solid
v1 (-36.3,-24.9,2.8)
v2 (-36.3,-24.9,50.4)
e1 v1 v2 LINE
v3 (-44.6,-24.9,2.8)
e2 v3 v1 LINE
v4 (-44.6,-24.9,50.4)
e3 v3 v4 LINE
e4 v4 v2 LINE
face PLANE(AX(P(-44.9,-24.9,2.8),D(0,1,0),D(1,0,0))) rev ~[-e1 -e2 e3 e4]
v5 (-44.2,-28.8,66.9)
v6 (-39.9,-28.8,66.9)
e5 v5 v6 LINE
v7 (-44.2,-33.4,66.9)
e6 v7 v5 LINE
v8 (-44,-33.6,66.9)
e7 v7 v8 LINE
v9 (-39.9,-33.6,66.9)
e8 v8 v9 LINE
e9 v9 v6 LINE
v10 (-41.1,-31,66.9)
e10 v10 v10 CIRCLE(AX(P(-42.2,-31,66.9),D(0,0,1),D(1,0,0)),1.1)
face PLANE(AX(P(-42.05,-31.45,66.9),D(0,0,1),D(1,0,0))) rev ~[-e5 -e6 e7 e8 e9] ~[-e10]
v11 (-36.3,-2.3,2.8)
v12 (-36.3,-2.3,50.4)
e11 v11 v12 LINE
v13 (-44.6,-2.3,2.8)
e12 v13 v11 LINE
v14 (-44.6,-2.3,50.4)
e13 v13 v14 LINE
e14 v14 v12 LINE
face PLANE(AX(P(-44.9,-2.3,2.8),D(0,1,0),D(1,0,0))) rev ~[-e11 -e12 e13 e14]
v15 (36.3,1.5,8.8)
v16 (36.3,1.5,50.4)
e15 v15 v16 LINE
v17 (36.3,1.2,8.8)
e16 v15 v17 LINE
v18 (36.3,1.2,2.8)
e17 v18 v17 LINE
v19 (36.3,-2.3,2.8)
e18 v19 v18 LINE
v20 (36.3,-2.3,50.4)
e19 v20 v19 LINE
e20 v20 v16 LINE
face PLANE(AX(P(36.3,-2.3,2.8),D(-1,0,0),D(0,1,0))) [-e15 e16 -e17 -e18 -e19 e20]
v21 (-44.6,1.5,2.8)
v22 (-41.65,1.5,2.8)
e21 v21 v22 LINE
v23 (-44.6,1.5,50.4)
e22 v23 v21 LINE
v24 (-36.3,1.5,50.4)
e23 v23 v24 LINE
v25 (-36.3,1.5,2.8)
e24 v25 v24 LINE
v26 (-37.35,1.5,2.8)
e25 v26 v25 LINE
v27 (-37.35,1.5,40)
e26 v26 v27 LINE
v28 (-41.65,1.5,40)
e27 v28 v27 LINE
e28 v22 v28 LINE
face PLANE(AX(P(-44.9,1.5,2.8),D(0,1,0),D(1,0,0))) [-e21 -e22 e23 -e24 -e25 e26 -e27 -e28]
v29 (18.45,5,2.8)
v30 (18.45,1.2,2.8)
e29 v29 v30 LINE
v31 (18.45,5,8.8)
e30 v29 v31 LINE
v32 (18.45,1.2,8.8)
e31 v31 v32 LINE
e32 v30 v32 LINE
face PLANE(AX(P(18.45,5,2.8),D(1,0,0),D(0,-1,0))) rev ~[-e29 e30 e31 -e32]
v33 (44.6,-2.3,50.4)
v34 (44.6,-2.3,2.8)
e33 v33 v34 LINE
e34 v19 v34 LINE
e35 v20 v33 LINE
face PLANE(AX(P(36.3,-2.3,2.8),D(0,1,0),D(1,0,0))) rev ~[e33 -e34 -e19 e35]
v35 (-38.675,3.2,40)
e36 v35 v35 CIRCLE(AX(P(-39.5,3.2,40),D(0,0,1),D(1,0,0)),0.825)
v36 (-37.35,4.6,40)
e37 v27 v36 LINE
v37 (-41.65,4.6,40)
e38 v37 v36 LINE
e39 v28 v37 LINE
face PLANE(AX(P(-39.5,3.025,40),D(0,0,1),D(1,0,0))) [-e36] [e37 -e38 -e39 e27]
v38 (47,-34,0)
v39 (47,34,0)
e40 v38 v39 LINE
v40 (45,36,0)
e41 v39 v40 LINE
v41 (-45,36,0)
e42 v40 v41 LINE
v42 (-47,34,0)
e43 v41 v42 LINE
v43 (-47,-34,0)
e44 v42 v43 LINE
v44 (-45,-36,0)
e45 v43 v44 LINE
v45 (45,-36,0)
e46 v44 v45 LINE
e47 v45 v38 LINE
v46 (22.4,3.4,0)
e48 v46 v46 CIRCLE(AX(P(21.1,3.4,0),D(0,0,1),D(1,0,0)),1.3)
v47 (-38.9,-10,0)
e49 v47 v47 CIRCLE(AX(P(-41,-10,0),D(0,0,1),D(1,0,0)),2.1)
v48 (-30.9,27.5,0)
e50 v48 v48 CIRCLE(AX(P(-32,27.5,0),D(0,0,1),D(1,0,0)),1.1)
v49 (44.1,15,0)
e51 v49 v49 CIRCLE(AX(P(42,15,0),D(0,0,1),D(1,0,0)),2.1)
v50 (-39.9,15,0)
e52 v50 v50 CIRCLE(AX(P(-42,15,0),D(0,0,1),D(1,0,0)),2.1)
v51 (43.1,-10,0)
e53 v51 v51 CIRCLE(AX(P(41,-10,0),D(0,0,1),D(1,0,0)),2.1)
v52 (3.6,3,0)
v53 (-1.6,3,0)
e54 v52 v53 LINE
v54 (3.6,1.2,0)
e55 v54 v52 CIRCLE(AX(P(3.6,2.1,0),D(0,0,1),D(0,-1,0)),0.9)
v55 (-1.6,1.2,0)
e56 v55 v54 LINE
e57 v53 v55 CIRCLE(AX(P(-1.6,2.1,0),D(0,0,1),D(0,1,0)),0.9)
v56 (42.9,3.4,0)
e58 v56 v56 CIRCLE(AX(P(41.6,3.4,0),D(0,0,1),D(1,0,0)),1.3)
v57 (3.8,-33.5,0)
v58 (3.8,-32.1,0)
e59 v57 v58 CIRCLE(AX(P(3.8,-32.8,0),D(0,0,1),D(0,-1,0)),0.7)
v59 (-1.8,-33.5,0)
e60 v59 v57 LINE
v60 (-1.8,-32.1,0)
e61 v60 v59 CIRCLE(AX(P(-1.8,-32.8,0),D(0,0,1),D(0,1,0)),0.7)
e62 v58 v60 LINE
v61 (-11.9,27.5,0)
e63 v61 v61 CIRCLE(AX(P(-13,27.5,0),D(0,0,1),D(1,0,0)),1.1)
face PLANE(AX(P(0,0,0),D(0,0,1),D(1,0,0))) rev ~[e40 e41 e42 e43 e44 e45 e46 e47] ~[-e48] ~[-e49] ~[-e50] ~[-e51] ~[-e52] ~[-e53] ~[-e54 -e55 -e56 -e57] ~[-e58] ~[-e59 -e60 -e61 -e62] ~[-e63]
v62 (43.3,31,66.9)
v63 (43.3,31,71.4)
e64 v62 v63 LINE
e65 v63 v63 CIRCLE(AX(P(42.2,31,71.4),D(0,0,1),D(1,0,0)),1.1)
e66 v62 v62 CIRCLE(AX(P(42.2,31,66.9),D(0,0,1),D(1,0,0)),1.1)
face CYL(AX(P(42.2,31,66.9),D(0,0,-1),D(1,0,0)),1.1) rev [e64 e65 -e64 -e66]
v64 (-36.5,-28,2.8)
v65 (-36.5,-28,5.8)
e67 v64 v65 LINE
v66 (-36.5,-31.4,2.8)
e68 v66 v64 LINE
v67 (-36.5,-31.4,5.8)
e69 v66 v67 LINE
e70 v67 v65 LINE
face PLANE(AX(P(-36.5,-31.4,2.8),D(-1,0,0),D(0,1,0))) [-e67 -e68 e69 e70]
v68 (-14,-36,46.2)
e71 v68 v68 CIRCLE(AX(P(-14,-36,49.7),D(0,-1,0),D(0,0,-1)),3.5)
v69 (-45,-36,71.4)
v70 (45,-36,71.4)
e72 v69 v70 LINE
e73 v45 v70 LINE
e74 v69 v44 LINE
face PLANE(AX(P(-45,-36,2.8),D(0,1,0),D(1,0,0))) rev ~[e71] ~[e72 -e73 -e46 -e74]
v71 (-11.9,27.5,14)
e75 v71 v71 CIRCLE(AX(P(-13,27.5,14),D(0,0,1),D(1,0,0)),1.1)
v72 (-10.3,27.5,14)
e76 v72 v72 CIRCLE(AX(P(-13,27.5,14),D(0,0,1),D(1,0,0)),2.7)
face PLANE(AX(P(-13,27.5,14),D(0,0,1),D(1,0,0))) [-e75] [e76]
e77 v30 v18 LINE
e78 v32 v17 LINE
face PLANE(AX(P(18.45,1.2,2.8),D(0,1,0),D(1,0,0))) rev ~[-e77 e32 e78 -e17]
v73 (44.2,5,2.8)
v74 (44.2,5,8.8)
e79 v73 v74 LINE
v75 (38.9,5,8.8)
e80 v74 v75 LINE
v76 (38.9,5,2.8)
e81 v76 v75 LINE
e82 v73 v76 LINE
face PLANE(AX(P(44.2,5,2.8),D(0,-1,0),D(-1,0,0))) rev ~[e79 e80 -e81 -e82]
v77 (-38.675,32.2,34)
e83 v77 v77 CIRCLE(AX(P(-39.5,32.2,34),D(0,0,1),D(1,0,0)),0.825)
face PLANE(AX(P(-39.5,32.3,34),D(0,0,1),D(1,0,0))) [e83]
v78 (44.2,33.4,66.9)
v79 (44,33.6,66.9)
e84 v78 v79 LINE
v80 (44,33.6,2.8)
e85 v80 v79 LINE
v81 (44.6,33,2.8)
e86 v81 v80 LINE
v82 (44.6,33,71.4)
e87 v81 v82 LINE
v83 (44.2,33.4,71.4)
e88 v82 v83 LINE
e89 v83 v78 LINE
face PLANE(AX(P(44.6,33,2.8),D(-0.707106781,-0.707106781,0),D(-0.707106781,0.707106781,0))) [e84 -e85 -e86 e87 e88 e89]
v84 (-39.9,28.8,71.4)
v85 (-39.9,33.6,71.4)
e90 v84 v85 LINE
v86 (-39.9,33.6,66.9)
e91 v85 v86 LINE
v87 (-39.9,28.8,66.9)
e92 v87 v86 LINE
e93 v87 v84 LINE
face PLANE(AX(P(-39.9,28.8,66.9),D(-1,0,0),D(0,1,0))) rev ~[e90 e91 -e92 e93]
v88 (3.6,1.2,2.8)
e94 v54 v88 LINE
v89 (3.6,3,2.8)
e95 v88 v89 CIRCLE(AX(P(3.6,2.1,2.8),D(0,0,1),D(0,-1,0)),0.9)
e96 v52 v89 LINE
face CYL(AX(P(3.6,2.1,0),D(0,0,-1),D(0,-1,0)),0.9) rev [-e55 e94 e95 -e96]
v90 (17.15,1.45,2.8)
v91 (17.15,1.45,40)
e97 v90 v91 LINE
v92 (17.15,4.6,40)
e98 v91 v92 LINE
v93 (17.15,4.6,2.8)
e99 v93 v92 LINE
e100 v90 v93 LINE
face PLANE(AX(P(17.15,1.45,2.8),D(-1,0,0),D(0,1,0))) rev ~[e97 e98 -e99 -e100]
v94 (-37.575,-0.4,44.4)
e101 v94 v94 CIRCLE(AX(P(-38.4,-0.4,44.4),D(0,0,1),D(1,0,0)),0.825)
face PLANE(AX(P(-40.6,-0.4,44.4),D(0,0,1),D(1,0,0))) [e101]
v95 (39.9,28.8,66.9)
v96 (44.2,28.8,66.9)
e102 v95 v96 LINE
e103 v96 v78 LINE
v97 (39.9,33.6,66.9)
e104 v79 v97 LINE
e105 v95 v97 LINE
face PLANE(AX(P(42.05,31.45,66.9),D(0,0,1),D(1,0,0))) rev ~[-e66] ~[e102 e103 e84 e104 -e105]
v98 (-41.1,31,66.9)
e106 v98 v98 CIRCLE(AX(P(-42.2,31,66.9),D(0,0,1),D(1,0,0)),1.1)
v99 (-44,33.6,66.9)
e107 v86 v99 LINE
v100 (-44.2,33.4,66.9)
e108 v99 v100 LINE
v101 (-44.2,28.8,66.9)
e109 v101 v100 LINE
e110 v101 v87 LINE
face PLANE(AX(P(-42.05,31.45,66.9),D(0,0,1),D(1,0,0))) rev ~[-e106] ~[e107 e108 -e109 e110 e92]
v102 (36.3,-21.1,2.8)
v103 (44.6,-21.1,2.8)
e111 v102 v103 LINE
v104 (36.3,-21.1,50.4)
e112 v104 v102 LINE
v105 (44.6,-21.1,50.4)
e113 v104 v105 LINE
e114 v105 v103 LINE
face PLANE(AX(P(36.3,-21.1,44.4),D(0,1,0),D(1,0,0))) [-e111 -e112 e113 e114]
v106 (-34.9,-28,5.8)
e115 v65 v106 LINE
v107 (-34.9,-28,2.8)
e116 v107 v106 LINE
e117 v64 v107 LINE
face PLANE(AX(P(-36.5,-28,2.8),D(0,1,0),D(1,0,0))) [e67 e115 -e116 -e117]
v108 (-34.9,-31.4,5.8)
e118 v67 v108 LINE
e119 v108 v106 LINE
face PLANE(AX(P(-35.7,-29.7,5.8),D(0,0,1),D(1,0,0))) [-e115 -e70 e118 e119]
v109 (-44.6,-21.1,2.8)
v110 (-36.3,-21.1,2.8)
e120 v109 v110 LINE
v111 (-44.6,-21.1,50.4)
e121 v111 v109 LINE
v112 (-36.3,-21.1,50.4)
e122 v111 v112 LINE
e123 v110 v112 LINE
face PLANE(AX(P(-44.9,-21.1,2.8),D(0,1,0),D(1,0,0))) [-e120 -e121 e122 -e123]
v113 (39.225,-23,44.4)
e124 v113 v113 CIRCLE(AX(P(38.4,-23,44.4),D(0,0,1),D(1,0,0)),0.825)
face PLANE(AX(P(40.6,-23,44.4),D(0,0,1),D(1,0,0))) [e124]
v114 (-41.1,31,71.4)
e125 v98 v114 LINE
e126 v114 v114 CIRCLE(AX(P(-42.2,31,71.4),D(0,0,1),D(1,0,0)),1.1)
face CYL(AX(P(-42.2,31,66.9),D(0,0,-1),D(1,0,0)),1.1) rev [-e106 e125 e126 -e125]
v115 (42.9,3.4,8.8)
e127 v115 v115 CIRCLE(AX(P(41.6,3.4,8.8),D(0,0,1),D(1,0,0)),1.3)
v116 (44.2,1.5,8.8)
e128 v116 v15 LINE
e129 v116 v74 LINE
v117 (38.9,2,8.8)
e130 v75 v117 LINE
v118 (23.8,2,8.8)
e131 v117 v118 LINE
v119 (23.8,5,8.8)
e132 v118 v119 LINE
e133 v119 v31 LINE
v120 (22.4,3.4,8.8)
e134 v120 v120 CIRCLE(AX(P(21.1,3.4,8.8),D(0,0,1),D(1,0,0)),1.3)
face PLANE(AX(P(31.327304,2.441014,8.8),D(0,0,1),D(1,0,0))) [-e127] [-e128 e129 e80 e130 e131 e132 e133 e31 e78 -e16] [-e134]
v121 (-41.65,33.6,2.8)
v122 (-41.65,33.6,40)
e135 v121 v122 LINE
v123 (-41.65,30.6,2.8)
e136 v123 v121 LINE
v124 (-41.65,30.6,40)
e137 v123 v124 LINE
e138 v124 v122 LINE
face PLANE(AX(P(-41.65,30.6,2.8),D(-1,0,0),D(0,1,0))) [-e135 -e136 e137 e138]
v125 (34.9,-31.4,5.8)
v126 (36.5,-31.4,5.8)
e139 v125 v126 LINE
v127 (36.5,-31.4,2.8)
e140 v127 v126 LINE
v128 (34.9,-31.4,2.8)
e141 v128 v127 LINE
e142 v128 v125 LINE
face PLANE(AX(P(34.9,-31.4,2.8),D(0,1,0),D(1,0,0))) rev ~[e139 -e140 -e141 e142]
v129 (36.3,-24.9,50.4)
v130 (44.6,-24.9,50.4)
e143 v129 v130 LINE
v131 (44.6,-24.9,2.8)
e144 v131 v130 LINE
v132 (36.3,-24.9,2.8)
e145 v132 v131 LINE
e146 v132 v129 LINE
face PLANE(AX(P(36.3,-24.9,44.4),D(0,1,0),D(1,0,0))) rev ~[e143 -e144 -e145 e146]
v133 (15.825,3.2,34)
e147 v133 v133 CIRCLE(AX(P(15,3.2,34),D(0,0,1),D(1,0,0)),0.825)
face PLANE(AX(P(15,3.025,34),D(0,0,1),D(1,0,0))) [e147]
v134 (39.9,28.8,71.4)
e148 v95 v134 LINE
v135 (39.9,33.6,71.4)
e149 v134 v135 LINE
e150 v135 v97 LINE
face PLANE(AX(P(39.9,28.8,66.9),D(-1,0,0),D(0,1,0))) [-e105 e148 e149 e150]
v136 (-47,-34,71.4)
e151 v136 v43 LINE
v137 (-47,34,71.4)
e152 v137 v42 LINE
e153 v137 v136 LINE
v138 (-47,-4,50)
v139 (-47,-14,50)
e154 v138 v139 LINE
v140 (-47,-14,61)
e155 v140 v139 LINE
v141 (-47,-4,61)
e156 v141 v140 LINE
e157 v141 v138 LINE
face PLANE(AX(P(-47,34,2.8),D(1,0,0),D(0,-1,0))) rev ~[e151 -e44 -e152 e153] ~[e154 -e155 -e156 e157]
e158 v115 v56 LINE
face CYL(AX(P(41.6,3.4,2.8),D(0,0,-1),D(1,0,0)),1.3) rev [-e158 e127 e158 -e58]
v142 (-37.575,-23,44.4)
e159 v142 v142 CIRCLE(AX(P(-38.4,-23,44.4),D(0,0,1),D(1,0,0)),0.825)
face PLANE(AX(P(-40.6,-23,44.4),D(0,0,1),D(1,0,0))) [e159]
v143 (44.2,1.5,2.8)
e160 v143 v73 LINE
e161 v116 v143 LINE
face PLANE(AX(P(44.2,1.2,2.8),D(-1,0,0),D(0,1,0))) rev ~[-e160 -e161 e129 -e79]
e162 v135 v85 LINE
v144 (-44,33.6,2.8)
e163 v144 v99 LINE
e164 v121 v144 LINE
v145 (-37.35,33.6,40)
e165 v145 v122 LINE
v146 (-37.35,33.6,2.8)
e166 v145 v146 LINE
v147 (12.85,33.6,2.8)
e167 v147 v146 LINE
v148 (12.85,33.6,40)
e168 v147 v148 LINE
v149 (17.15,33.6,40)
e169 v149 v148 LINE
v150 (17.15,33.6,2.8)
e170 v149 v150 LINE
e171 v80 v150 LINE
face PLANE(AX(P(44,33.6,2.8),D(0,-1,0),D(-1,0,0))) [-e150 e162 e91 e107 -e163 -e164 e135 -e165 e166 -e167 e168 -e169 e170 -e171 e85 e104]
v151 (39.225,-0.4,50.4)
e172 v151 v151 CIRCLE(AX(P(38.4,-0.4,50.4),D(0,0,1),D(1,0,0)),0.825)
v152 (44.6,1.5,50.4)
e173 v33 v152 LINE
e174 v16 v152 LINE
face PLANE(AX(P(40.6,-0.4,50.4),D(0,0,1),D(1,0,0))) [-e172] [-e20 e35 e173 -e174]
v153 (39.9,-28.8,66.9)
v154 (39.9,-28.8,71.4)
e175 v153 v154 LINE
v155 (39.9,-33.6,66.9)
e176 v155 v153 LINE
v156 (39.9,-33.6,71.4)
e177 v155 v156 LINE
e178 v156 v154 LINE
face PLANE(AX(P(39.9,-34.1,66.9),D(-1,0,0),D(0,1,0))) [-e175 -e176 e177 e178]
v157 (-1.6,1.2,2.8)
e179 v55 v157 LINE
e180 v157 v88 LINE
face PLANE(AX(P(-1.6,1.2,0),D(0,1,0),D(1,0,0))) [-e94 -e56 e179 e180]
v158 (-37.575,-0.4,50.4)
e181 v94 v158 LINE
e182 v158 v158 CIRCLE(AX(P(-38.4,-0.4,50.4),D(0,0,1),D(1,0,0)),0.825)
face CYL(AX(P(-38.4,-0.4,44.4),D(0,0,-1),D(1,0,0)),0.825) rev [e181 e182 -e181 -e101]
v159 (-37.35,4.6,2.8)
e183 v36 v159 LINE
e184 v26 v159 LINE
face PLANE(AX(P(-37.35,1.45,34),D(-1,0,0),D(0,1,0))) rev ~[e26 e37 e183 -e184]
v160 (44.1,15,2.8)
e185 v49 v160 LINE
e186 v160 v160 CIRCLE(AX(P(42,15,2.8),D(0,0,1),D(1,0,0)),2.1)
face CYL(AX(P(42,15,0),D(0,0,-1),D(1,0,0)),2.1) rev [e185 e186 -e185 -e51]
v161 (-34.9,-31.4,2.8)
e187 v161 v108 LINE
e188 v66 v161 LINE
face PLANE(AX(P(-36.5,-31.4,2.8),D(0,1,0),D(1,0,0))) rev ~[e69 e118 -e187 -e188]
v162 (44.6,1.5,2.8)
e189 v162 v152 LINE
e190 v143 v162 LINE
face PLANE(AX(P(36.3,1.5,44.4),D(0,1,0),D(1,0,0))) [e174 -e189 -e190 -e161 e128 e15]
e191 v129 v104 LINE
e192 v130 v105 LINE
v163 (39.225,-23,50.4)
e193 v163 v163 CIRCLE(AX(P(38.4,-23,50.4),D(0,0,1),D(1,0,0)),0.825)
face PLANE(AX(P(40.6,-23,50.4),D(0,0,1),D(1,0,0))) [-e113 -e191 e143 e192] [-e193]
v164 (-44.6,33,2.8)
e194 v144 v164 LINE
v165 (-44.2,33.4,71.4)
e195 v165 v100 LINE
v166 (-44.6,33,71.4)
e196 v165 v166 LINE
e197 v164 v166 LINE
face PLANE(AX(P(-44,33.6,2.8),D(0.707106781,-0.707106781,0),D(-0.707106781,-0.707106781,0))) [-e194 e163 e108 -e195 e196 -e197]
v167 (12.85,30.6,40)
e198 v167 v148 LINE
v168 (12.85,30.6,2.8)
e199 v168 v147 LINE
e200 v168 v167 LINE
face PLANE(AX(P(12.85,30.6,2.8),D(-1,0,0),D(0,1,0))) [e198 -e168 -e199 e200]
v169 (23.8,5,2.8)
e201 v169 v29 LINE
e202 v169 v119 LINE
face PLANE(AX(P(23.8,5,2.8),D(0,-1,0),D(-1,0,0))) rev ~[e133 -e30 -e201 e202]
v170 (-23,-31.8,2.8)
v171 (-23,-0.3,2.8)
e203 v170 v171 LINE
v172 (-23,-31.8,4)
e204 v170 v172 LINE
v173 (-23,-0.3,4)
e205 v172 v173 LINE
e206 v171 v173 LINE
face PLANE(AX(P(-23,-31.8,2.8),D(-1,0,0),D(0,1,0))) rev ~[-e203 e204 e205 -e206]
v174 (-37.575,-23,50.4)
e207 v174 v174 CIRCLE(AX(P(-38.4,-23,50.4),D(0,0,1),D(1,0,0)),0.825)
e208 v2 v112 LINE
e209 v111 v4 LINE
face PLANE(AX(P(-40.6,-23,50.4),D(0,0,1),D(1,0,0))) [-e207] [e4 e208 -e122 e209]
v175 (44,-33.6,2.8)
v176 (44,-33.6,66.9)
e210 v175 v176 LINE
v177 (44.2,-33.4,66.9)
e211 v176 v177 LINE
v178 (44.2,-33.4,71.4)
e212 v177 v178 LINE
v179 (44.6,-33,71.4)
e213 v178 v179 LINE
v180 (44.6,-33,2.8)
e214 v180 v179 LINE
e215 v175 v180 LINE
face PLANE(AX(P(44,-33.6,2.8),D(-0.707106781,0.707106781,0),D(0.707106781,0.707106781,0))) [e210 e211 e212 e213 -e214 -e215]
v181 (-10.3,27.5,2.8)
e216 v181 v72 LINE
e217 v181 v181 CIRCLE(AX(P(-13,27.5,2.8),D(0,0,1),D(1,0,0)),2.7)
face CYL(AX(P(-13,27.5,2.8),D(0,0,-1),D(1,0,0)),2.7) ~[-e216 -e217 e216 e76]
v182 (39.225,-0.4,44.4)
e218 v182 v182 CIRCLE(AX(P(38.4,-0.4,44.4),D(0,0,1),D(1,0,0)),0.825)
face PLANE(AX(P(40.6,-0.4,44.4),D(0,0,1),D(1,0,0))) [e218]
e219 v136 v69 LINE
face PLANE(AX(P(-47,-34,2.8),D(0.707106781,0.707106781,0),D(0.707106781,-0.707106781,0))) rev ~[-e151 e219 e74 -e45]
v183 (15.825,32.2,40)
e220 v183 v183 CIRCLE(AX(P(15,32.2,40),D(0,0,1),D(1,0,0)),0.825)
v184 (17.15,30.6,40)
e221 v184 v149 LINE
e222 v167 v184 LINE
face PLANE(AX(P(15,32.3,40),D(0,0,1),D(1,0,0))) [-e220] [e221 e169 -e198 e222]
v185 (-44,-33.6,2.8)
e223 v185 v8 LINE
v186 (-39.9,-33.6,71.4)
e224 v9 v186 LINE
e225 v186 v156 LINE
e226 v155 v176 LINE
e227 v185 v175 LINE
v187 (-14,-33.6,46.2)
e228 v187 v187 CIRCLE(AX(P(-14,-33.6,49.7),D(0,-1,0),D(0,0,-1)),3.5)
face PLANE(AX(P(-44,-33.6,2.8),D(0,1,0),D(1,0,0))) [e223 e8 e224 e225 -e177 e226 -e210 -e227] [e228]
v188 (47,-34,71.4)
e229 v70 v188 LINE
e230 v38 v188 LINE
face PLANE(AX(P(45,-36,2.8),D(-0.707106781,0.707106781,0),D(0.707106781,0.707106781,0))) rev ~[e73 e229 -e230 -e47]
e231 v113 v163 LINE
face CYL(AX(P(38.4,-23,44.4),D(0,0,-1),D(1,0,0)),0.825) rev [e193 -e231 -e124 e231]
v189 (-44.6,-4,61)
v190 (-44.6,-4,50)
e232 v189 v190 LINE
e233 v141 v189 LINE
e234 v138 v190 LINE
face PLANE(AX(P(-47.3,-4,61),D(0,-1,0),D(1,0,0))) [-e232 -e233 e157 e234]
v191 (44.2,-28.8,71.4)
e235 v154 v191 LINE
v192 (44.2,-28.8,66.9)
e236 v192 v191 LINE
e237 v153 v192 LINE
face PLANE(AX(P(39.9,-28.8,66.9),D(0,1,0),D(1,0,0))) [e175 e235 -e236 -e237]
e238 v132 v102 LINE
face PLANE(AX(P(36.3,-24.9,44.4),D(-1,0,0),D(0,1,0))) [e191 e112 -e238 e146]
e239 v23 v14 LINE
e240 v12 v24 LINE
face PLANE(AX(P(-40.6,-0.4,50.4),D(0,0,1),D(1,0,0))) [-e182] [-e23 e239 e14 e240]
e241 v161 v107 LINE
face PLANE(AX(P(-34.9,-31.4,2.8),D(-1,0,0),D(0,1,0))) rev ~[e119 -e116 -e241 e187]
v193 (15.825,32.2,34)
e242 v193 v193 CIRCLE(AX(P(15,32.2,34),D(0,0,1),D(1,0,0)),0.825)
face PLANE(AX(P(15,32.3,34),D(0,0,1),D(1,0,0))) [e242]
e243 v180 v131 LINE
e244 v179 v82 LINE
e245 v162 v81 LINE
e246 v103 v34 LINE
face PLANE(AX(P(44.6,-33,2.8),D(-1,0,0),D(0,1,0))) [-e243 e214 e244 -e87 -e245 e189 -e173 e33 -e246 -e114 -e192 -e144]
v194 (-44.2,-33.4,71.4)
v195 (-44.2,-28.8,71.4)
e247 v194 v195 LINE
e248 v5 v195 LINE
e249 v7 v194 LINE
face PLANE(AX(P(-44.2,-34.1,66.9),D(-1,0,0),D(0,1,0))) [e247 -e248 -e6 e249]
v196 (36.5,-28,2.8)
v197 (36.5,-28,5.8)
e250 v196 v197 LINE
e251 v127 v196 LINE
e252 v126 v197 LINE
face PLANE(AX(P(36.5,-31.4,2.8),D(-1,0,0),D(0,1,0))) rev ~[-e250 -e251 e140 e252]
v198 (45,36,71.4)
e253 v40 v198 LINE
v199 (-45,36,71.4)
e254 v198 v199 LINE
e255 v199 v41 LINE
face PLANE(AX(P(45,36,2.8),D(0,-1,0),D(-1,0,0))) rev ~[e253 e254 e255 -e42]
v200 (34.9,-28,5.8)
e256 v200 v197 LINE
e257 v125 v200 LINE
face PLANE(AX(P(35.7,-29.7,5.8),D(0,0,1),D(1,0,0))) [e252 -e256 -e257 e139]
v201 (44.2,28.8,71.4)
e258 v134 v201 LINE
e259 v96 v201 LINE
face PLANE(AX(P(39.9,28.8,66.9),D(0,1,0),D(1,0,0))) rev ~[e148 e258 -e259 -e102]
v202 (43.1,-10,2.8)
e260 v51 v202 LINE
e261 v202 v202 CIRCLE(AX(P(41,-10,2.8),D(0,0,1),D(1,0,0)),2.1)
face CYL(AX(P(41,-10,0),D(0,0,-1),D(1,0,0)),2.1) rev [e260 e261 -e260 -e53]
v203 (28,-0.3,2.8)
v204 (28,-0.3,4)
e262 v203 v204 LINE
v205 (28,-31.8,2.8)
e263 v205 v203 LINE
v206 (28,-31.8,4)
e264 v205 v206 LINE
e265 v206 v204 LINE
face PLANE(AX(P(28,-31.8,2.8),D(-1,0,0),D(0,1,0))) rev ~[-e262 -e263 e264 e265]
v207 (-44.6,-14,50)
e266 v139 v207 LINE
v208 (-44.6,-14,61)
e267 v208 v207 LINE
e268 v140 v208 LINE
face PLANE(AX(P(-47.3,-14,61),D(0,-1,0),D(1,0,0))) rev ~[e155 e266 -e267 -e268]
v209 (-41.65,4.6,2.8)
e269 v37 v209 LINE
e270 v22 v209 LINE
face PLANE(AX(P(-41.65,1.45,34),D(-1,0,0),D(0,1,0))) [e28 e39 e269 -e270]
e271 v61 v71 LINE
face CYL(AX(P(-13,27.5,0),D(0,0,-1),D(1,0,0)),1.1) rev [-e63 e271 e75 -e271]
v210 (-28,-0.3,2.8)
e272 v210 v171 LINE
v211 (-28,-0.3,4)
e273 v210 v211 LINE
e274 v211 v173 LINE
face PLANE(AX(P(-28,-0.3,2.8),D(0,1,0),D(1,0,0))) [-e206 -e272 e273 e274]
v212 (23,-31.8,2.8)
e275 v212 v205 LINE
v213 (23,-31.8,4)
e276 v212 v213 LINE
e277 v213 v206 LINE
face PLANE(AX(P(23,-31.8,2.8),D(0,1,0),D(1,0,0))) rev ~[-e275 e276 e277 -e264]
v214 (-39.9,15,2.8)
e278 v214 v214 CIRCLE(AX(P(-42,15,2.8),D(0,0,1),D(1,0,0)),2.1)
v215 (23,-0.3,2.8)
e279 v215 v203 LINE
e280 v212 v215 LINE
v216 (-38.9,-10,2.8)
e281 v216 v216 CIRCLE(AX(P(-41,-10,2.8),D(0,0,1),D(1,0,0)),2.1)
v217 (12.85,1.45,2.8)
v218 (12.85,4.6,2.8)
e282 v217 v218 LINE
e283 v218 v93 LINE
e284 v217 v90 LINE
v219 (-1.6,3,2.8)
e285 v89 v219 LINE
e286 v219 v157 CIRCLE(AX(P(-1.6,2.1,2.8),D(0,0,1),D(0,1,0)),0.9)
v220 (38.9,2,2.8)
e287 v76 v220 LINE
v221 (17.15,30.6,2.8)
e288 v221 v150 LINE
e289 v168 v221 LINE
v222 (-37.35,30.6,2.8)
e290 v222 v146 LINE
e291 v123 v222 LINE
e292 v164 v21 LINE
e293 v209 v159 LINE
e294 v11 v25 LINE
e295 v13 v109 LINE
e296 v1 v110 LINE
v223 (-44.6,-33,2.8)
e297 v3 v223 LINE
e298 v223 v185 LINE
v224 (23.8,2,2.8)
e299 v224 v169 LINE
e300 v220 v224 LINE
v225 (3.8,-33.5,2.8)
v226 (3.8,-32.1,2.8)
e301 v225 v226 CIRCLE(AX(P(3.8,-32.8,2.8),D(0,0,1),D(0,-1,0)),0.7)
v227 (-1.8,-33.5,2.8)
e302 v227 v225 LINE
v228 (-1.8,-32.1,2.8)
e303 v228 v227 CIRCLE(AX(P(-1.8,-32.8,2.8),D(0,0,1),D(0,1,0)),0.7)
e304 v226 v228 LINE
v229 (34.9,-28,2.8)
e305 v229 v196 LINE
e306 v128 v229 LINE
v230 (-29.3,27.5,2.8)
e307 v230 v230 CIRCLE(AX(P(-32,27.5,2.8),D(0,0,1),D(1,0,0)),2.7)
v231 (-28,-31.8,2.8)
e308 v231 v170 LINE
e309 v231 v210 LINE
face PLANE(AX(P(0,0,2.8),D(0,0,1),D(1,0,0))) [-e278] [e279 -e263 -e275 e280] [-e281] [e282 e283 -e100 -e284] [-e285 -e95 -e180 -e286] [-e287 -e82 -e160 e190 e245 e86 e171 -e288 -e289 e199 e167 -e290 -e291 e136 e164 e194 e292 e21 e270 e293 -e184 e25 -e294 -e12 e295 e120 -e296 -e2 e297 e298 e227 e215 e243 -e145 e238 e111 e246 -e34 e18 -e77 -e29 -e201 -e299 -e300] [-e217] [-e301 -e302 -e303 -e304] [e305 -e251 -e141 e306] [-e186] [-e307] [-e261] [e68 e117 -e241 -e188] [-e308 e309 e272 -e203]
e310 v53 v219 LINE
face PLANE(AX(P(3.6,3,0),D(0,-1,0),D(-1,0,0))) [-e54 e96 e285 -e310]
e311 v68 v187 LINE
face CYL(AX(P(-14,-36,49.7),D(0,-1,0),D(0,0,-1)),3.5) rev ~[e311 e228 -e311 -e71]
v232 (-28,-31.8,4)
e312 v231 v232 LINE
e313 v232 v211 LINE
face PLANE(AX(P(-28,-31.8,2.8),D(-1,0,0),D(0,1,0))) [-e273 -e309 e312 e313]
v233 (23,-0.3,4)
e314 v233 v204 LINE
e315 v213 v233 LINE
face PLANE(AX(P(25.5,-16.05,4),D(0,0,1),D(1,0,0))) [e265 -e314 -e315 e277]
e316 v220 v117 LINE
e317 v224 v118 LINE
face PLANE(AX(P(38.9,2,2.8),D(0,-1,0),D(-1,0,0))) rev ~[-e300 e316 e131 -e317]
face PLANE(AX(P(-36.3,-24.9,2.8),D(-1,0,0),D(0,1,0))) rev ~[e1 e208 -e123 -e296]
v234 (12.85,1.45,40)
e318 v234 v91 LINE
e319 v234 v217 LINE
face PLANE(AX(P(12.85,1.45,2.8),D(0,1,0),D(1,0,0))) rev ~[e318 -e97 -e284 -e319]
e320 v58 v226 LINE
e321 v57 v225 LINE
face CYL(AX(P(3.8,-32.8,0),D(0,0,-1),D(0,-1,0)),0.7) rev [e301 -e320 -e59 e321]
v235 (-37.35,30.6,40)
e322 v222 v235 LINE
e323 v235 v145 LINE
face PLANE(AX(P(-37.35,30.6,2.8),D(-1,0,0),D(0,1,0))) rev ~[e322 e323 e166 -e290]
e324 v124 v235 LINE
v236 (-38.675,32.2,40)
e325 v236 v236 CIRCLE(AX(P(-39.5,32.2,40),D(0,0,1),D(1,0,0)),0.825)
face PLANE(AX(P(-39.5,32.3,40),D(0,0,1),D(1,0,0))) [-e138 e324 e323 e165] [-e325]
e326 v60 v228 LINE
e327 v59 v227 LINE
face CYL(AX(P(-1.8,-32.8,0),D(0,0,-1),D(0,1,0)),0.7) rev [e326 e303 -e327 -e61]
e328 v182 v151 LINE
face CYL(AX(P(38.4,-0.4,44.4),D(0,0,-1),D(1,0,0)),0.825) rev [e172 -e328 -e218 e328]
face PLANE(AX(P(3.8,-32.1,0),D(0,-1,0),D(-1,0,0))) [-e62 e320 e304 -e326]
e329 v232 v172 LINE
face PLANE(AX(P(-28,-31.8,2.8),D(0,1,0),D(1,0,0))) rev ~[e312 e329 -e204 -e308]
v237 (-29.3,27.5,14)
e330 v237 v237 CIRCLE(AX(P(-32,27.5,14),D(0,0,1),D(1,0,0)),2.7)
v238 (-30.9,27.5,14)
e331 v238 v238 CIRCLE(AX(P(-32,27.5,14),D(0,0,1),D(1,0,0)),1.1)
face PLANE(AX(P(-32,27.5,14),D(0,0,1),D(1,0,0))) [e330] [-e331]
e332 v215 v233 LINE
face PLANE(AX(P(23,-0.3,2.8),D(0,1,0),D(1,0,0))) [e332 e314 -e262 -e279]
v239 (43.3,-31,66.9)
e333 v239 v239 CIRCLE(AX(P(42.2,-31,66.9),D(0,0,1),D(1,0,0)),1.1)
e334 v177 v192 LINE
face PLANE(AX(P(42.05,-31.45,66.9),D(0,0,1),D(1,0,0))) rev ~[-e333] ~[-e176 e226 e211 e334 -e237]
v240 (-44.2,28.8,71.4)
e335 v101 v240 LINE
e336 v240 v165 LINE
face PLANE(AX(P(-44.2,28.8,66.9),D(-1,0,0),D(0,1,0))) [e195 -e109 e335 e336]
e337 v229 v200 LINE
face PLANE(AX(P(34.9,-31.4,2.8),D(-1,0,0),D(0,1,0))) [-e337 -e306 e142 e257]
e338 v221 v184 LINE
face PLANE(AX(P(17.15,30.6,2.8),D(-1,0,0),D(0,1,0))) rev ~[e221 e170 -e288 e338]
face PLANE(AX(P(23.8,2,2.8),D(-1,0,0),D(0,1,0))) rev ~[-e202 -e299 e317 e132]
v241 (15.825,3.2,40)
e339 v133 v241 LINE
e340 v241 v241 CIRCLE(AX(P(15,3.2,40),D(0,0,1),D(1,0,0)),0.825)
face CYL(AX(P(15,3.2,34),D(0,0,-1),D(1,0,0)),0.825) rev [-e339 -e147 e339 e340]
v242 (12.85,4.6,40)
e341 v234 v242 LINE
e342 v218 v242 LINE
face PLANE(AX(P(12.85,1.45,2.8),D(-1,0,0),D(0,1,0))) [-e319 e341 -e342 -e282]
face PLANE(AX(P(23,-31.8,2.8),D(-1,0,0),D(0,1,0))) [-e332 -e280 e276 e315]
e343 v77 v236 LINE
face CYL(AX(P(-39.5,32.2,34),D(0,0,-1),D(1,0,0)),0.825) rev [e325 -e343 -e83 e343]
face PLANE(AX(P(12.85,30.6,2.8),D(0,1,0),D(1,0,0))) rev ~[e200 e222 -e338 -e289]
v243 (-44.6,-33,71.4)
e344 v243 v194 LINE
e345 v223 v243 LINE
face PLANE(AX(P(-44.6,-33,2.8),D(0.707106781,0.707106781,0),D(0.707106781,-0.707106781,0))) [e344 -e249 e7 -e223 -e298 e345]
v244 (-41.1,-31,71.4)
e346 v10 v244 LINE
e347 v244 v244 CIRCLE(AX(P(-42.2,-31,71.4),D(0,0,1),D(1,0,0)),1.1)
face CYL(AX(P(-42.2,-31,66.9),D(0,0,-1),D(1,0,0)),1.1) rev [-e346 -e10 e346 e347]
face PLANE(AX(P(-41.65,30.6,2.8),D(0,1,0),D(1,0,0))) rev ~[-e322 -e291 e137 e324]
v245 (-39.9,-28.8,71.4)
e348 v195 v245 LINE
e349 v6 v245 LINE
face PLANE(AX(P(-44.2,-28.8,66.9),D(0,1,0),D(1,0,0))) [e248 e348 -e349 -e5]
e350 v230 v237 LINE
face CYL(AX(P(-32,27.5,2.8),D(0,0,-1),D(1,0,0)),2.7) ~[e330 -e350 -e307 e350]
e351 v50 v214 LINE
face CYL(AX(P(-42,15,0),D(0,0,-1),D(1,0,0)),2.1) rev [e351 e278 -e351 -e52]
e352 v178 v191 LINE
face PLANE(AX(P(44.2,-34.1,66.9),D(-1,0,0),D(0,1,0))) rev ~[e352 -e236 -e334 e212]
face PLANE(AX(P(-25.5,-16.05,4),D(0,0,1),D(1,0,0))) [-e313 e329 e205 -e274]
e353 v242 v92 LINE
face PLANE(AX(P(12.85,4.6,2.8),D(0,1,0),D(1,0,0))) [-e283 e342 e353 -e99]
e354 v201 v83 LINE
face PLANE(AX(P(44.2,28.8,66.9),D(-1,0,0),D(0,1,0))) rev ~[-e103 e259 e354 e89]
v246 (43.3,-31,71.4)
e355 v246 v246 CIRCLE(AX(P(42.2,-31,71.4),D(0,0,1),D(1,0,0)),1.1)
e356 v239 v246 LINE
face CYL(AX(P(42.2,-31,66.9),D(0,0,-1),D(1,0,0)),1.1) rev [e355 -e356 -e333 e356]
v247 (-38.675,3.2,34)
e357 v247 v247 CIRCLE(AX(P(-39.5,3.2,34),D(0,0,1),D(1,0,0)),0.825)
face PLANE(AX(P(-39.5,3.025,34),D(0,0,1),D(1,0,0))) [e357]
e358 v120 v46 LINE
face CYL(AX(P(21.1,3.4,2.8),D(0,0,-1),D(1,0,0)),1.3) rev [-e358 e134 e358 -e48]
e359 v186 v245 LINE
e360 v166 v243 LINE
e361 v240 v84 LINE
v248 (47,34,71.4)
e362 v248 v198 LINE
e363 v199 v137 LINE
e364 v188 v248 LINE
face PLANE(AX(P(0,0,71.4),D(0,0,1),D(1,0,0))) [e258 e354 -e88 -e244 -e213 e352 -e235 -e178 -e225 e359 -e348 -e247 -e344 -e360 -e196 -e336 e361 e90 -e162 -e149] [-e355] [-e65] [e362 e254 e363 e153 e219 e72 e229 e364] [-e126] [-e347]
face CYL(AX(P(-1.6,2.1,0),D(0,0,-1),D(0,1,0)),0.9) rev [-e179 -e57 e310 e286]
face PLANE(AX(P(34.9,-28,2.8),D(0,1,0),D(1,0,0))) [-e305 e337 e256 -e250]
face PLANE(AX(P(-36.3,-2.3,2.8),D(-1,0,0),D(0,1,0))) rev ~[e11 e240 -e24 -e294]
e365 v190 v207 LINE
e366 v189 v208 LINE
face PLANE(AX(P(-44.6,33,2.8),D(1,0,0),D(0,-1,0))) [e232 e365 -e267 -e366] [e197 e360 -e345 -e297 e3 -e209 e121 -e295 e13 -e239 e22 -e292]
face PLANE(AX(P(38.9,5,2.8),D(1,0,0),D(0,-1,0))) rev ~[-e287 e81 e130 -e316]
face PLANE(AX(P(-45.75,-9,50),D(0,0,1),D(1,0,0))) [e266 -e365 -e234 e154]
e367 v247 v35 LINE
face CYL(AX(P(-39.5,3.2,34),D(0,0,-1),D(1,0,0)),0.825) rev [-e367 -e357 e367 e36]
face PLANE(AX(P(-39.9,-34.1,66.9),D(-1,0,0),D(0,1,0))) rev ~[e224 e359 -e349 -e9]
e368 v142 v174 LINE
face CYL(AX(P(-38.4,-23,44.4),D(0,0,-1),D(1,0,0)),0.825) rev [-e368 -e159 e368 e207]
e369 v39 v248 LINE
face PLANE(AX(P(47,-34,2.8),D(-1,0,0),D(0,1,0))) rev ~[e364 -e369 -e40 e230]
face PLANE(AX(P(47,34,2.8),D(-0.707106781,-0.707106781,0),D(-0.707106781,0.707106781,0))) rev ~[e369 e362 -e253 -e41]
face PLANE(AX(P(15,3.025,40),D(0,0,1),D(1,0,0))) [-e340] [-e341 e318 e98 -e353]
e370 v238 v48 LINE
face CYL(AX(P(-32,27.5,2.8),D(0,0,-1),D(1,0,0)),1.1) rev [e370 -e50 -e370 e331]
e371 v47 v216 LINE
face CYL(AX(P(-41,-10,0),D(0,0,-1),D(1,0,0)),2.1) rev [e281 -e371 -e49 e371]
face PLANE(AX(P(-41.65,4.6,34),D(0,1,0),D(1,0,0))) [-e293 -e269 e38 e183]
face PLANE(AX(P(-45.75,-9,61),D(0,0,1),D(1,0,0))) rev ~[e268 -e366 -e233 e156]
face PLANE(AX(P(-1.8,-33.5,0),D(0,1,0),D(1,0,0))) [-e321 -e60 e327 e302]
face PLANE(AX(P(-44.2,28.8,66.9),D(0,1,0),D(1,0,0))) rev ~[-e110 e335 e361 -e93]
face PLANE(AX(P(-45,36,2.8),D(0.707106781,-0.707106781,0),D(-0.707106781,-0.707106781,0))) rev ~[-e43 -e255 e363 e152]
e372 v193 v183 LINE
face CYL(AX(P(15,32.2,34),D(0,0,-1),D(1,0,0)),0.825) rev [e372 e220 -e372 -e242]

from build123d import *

# Parameters (mm, degrees)
PROFILE_R              = 1.3
PROFILE_R_2            = 1.1
PROFILE_R_3            = 2.1
EXTRUDE_289_DEPTH      = 2.8
F_2_4_START            = 2.8
F_2_4_MM_DEPTH         = 68.6
EXTRUDE_START          = 66.9
F_2_2_PROFILE_W        = 4.3
F_2_2_PROFILE_H        = 5.3
F_2_2_PROFILE_R        = 1.1
EXTRUDE_2_2_DEPTH      = 4.5
EXTRUDE_START_2        = 2.8
PROFILE_2_W            = 5
PROFILE_2_H            = 31.5
EXTRUDE_595_DEPTH      = 1.2
PROFILE_3_W            = 1.6
PROFILE_3_H            = 3.4
EXTRUDE_686_DEPTH      = 3
F_2_2_PROFILE_2_R      = 2.7
F_2_2_PROFILE_2_R_2    = 1.1
EXTRUDE_2_2_2_DEPTH    = 11.2
GNSS_START             = 2.8
GNSS_2_6_3MM_PROFILE_R = 1.3
GNSS_2_6_3MM_DEPTH     = 6
PROFILE_4_W            = 8.6
PROFILE_4_H            = 3.8
EXTRUDE_962_DEPTH      = 41.6
EXTRUDE_START_3        = 44.4
F_1_65_PROFILE_W       = 8.6
F_1_65_PROFILE_H       = 3.8
F_1_65_PROFILE_R       = 0.825
EXTRUDE_1_65_DEPTH     = 6
PROFILE_5_W            = 4.3
PROFILE_5_H            = 3.15
PROFILE_5_H_2          = 3.4
EXTRUDE_1232_DEPTH     = 31.2
EXTRUDE_START_4        = 34
F_1_65_PROFILE_2_W     = 4.3
F_1_65_PROFILE_2_H     = 3.15
F_1_65_PROFILE_2_R     = 0.825
F_1_65_PROFILE_2_H_2   = 3.4
EXTRUDE_1_65_2_DEPTH   = 6
TYPE_C_START           = 61
TYPE_C_10_11_PROFILE_W = 3.1
TYPE_C_10_11_PROFILE_H = 10
TYPE_C_10_11_DEPTH     = 11
F_7_PROFILE_R          = 3.5
CUT_EXTRUDE_7_DEPTH    = 2.5


with BuildPart() as part:
    # profile → Extrude 289 (new body)
    with BuildSketch(Plane.XY):
        Polygon((-45, -36), (45, -36), (47, -34), (47, 34), (45, 36), (-45, 36), (-47, 34), (-47, -34), align=None)
        with Locations((21.1, 3.4)):
            Circle(PROFILE_R, mode=Mode.SUBTRACT)
        with Locations((41.6, 3.4)):
            Circle(PROFILE_R, mode=Mode.SUBTRACT)
        with Locations((-32, 27.5)):
            Circle(PROFILE_R_2, mode=Mode.SUBTRACT)
        with Locations((-13, 27.5)):
            Circle(PROFILE_R_2, mode=Mode.SUBTRACT)
        with Locations((-41, -10)):
            Circle(PROFILE_R_3, mode=Mode.SUBTRACT)
        with Locations((41, -10)):
            Circle(PROFILE_R_3, mode=Mode.SUBTRACT)
        with Locations((-42, 15)):
            Circle(PROFILE_R_3, mode=Mode.SUBTRACT)
        with Locations((42, 15)):
            Circle(PROFILE_R_3, mode=Mode.SUBTRACT)
        with BuildLine():
            Line((-1.8, -33.5), (3.8, -33.5))
            ThreePointArc((3.8, -33.5), (4.5, -32.8), (3.8, -32.1))
            Line((3.8, -32.1), (-1.8, -32.1))
            ThreePointArc((-1.8, -32.1), (-2.5, -32.8), (-1.8, -33.5))
        make_face(mode=Mode.SUBTRACT)
        with BuildLine():
            Line((-1.6, 1.2), (3.6, 1.2))
            ThreePointArc((3.6, 1.2), (4.5, 2.1), (3.6, 3))
            Line((3.6, 3), (-1.6, 3))
            ThreePointArc((-1.6, 3), (-2.5, 2.1), (-1.6, 1.2))
        make_face(mode=Mode.SUBTRACT)
    extrude(amount=EXTRUDE_289_DEPTH)

    # 2.4 mm周壁 profile → 2.4 mm周壁 (add)
    with BuildSketch(Plane.XY.offset(F_2_4_START)):
        Polygon((-45, -36), (45, -36), (47, -34), (47, 34), (45, 36), (-45, 36), (-47, 34), (-47, -34), align=None)
        Polygon((-44, -33.6), (44, -33.6), (44.6, -33), (44.6, 33), (44, 33.6), (-44, 33.6), (-44.6, 33), (-44.6, -33), align=None, mode=Mode.SUBTRACT)
    extrude(amount=F_2_4_MM_DEPTH)

    # 2.2_ profile → Extrude 2.2 (add)
    # profile 1 of 4: a face of its own
    with BuildSketch(Plane.XY.offset(EXTRUDE_START)):
        with Locations((-42.05, -31.45)):
            Rectangle(F_2_2_PROFILE_W, F_2_2_PROFILE_H)
        with Locations((-42.2, -31)):
            Circle(F_2_2_PROFILE_R, mode=Mode.SUBTRACT)
    # profile 2 of 4: a face of its own
    with BuildSketch(Plane.XY.offset(EXTRUDE_START)):
        with Locations((-42.05, 31.45)):
            Rectangle(F_2_2_PROFILE_W, F_2_2_PROFILE_H)
        with Locations((-42.2, 31)):
            Circle(F_2_2_PROFILE_R, mode=Mode.SUBTRACT)
    # profile 3 of 4: a face of its own
    with BuildSketch(Plane.XY.offset(EXTRUDE_START)):
        with Locations((42.05, -31.45)):
            Rectangle(F_2_2_PROFILE_W, F_2_2_PROFILE_H)
        with Locations((42.2, -31)):
            Circle(F_2_2_PROFILE_R, mode=Mode.SUBTRACT)
    # profile 4 of 4: a face of its own
    with BuildSketch(Plane.XY.offset(EXTRUDE_START)):
        with Locations((42.05, 31.45)):
            Rectangle(F_2_2_PROFILE_W, F_2_2_PROFILE_H)
        with Locations((42.2, 31)):
            Circle(F_2_2_PROFILE_R, mode=Mode.SUBTRACT)
    extrude(amount=EXTRUDE_2_2_DEPTH)

    # profile 2 → Extrude 595 (add)
    with BuildSketch(Plane.XY.offset(EXTRUDE_START_2)):
        with Locations((-25.5, -16.05)):
            Rectangle(PROFILE_2_W, PROFILE_2_H)
        with Locations((25.5, -16.05)):
            Rectangle(PROFILE_2_W, PROFILE_2_H)
    extrude(amount=EXTRUDE_595_DEPTH)

    # profile 3 → Extrude 686 (add)
    with BuildSketch(Plane.XY.offset(EXTRUDE_START_2)):
        with Locations((-35.7, -29.7)):
            Rectangle(PROFILE_3_W, PROFILE_3_H)
        with Locations((35.7, -29.7)):
            Rectangle(PROFILE_3_W, PROFILE_3_H)
    extrude(amount=EXTRUDE_686_DEPTH)

    # 2.2 _ profile 2 → Extrude 2.2 2 (add)
    # profile 1 of 2: a face of its own
    with BuildSketch(Plane.XY.offset(EXTRUDE_START_2)):
        with Locations((-32, 27.5)):
            Circle(F_2_2_PROFILE_2_R)
        with Locations((-32, 27.5)):
            Circle(F_2_2_PROFILE_2_R_2, mode=Mode.SUBTRACT)
    # profile 2 of 2: a face of its own
    with BuildSketch(Plane.XY.offset(EXTRUDE_START_2)):
        with Locations((-13, 27.5)):
            Circle(F_2_2_PROFILE_2_R)
        with Locations((-13, 27.5)):
            Circle(F_2_2_PROFILE_2_R_2, mode=Mode.SUBTRACT)
    extrude(amount=EXTRUDE_2_2_2_DEPTH)

    # GNSS单边凸台 Ø2.6 贯穿，板内接触3mm profile → GNSS单边凸台 Ø2.6 贯穿，板内接触3mm (add)
    with BuildSketch(Plane.XY.offset(GNSS_START)):
        Polygon((18.45, 1.2), (44.2, 1.2), (44.2, 5), (38.9, 5), (38.9, 2), (23.8, 2), (23.8, 5), (18.45, 5), align=None)
        with Locations((21.1, 3.4)):
            Circle(GNSS_2_6_3MM_PROFILE_R, mode=Mode.SUBTRACT)
        with Locations((41.6, 3.4)):
            Circle(GNSS_2_6_3MM_PROFILE_R, mode=Mode.SUBTRACT)
    extrude(amount=GNSS_2_6_3MM_DEPTH)

    # profile 4 → Extrude 962 (add)
    with BuildSketch(Plane.XY.offset(EXTRUDE_START_2)):
        with Locations((40.6, -23)):
            Rectangle(PROFILE_4_W, PROFILE_4_H)
        with Locations((-40.6, -23)):
            Rectangle(PROFILE_4_W, PROFILE_4_H)
        with Locations((40.6, -0.4)):
            Rectangle(PROFILE_4_W, PROFILE_4_H)
        with Locations((-40.6, -0.4)):
            Rectangle(PROFILE_4_W, PROFILE_4_H)
    extrude(amount=EXTRUDE_962_DEPTH)

    # 1.65_ profile → Extrude 1.65 (add)
    # profile 1 of 4: a face of its own
    with BuildSketch(Plane.XY.offset(EXTRUDE_START_3)):
        with Locations((40.6, -23)):
            Rectangle(F_1_65_PROFILE_W, F_1_65_PROFILE_H)
        with Locations((38.4, -23)):
            Circle(F_1_65_PROFILE_R, mode=Mode.SUBTRACT)
    # profile 2 of 4: a face of its own
    with BuildSketch(Plane.XY.offset(EXTRUDE_START_3)):
        with Locations((-40.6, -23)):
            Rectangle(F_1_65_PROFILE_W, F_1_65_PROFILE_H)
        with Locations((-38.4, -23)):
            Circle(F_1_65_PROFILE_R, mode=Mode.SUBTRACT)
    # profile 3 of 4: a face of its own
    with BuildSketch(Plane.XY.offset(EXTRUDE_START_3)):
        with Locations((40.6, -0.4)):
            Rectangle(F_1_65_PROFILE_W, F_1_65_PROFILE_H)
        with Locations((38.4, -0.4)):
            Circle(F_1_65_PROFILE_R, mode=Mode.SUBTRACT)
    # profile 4 of 4: a face of its own
    with BuildSketch(Plane.XY.offset(EXTRUDE_START_3)):
        with Locations((-40.6, -0.4)):
            Rectangle(F_1_65_PROFILE_W, F_1_65_PROFILE_H)
        with Locations((-38.4, -0.4)):
            Circle(F_1_65_PROFILE_R, mode=Mode.SUBTRACT)
    extrude(amount=EXTRUDE_1_65_DEPTH)

    # profile 5 → Extrude 1232 (add)
    with BuildSketch(Plane.XY.offset(EXTRUDE_START_2)):
        with Locations((-39.5, 3.025)):
            Rectangle(PROFILE_5_W, PROFILE_5_H)
        with Locations((-39.5, 32.3)):
            Rectangle(PROFILE_5_W, PROFILE_5_H_2)
        with Locations((15, 3.025)):
            Rectangle(PROFILE_5_W, PROFILE_5_H)
        with Locations((15, 32.3)):
            Rectangle(PROFILE_5_W, PROFILE_5_H_2)
    extrude(amount=EXTRUDE_1232_DEPTH)

    # 1.65_ profile 2 → Extrude 1.65 2 (add)
    # profile 1 of 4: a face of its own
    with BuildSketch(Plane.XY.offset(EXTRUDE_START_4)):
        with Locations((-39.5, 3.025)):
            Rectangle(F_1_65_PROFILE_2_W, F_1_65_PROFILE_2_H)
        with Locations((-39.5, 3.2)):
            Circle(F_1_65_PROFILE_2_R, mode=Mode.SUBTRACT)
    # profile 2 of 4: a face of its own
    with BuildSketch(Plane.XY.offset(EXTRUDE_START_4)):
        with Locations((-39.5, 32.3)):
            Rectangle(F_1_65_PROFILE_2_W, F_1_65_PROFILE_2_H_2)
        with Locations((-39.5, 32.2)):
            Circle(F_1_65_PROFILE_2_R, mode=Mode.SUBTRACT)
    # profile 3 of 4: a face of its own
    with BuildSketch(Plane.XY.offset(EXTRUDE_START_4)):
        with Locations((15, 3.025)):
            Rectangle(F_1_65_PROFILE_2_W, F_1_65_PROFILE_2_H)
        with Locations((15, 3.2)):
            Circle(F_1_65_PROFILE_2_R, mode=Mode.SUBTRACT)
    # profile 4 of 4: a face of its own
    with BuildSketch(Plane.XY.offset(EXTRUDE_START_4)):
        with Locations((15, 32.3)):
            Rectangle(F_1_65_PROFILE_2_W, F_1_65_PROFILE_2_H_2)
        with Locations((15, 32.2)):
            Circle(F_1_65_PROFILE_2_R, mode=Mode.SUBTRACT)
    extrude(amount=EXTRUDE_1_65_2_DEPTH)

    # Type-C 暂定10×11开口 profile → Type-C 暂定10×11开口 (cut)
    with BuildSketch(Plane.XY.offset(TYPE_C_START)):
        with Locations((-45.75, -9)):
            Rectangle(TYPE_C_10_11_PROFILE_W, TYPE_C_10_11_PROFILE_H)
    extrude(amount=-TYPE_C_10_11_DEPTH, mode=Mode.SUBTRACT)

    # 反面天线连接位置 Ø7预留孔 profile → 反面天线连接位置 Ø7预留孔 (cut)
    with BuildSketch(Plane.XZ.offset(36)):
        with Locations(Location((-14, 49.7, 0), (0, 0, 270))):
            Circle(F_7_PROFILE_R)
    extrude(amount=-CUT_EXTRUDE_7_DEPTH, mode=Mode.SUBTRACT)


solid = part.part
